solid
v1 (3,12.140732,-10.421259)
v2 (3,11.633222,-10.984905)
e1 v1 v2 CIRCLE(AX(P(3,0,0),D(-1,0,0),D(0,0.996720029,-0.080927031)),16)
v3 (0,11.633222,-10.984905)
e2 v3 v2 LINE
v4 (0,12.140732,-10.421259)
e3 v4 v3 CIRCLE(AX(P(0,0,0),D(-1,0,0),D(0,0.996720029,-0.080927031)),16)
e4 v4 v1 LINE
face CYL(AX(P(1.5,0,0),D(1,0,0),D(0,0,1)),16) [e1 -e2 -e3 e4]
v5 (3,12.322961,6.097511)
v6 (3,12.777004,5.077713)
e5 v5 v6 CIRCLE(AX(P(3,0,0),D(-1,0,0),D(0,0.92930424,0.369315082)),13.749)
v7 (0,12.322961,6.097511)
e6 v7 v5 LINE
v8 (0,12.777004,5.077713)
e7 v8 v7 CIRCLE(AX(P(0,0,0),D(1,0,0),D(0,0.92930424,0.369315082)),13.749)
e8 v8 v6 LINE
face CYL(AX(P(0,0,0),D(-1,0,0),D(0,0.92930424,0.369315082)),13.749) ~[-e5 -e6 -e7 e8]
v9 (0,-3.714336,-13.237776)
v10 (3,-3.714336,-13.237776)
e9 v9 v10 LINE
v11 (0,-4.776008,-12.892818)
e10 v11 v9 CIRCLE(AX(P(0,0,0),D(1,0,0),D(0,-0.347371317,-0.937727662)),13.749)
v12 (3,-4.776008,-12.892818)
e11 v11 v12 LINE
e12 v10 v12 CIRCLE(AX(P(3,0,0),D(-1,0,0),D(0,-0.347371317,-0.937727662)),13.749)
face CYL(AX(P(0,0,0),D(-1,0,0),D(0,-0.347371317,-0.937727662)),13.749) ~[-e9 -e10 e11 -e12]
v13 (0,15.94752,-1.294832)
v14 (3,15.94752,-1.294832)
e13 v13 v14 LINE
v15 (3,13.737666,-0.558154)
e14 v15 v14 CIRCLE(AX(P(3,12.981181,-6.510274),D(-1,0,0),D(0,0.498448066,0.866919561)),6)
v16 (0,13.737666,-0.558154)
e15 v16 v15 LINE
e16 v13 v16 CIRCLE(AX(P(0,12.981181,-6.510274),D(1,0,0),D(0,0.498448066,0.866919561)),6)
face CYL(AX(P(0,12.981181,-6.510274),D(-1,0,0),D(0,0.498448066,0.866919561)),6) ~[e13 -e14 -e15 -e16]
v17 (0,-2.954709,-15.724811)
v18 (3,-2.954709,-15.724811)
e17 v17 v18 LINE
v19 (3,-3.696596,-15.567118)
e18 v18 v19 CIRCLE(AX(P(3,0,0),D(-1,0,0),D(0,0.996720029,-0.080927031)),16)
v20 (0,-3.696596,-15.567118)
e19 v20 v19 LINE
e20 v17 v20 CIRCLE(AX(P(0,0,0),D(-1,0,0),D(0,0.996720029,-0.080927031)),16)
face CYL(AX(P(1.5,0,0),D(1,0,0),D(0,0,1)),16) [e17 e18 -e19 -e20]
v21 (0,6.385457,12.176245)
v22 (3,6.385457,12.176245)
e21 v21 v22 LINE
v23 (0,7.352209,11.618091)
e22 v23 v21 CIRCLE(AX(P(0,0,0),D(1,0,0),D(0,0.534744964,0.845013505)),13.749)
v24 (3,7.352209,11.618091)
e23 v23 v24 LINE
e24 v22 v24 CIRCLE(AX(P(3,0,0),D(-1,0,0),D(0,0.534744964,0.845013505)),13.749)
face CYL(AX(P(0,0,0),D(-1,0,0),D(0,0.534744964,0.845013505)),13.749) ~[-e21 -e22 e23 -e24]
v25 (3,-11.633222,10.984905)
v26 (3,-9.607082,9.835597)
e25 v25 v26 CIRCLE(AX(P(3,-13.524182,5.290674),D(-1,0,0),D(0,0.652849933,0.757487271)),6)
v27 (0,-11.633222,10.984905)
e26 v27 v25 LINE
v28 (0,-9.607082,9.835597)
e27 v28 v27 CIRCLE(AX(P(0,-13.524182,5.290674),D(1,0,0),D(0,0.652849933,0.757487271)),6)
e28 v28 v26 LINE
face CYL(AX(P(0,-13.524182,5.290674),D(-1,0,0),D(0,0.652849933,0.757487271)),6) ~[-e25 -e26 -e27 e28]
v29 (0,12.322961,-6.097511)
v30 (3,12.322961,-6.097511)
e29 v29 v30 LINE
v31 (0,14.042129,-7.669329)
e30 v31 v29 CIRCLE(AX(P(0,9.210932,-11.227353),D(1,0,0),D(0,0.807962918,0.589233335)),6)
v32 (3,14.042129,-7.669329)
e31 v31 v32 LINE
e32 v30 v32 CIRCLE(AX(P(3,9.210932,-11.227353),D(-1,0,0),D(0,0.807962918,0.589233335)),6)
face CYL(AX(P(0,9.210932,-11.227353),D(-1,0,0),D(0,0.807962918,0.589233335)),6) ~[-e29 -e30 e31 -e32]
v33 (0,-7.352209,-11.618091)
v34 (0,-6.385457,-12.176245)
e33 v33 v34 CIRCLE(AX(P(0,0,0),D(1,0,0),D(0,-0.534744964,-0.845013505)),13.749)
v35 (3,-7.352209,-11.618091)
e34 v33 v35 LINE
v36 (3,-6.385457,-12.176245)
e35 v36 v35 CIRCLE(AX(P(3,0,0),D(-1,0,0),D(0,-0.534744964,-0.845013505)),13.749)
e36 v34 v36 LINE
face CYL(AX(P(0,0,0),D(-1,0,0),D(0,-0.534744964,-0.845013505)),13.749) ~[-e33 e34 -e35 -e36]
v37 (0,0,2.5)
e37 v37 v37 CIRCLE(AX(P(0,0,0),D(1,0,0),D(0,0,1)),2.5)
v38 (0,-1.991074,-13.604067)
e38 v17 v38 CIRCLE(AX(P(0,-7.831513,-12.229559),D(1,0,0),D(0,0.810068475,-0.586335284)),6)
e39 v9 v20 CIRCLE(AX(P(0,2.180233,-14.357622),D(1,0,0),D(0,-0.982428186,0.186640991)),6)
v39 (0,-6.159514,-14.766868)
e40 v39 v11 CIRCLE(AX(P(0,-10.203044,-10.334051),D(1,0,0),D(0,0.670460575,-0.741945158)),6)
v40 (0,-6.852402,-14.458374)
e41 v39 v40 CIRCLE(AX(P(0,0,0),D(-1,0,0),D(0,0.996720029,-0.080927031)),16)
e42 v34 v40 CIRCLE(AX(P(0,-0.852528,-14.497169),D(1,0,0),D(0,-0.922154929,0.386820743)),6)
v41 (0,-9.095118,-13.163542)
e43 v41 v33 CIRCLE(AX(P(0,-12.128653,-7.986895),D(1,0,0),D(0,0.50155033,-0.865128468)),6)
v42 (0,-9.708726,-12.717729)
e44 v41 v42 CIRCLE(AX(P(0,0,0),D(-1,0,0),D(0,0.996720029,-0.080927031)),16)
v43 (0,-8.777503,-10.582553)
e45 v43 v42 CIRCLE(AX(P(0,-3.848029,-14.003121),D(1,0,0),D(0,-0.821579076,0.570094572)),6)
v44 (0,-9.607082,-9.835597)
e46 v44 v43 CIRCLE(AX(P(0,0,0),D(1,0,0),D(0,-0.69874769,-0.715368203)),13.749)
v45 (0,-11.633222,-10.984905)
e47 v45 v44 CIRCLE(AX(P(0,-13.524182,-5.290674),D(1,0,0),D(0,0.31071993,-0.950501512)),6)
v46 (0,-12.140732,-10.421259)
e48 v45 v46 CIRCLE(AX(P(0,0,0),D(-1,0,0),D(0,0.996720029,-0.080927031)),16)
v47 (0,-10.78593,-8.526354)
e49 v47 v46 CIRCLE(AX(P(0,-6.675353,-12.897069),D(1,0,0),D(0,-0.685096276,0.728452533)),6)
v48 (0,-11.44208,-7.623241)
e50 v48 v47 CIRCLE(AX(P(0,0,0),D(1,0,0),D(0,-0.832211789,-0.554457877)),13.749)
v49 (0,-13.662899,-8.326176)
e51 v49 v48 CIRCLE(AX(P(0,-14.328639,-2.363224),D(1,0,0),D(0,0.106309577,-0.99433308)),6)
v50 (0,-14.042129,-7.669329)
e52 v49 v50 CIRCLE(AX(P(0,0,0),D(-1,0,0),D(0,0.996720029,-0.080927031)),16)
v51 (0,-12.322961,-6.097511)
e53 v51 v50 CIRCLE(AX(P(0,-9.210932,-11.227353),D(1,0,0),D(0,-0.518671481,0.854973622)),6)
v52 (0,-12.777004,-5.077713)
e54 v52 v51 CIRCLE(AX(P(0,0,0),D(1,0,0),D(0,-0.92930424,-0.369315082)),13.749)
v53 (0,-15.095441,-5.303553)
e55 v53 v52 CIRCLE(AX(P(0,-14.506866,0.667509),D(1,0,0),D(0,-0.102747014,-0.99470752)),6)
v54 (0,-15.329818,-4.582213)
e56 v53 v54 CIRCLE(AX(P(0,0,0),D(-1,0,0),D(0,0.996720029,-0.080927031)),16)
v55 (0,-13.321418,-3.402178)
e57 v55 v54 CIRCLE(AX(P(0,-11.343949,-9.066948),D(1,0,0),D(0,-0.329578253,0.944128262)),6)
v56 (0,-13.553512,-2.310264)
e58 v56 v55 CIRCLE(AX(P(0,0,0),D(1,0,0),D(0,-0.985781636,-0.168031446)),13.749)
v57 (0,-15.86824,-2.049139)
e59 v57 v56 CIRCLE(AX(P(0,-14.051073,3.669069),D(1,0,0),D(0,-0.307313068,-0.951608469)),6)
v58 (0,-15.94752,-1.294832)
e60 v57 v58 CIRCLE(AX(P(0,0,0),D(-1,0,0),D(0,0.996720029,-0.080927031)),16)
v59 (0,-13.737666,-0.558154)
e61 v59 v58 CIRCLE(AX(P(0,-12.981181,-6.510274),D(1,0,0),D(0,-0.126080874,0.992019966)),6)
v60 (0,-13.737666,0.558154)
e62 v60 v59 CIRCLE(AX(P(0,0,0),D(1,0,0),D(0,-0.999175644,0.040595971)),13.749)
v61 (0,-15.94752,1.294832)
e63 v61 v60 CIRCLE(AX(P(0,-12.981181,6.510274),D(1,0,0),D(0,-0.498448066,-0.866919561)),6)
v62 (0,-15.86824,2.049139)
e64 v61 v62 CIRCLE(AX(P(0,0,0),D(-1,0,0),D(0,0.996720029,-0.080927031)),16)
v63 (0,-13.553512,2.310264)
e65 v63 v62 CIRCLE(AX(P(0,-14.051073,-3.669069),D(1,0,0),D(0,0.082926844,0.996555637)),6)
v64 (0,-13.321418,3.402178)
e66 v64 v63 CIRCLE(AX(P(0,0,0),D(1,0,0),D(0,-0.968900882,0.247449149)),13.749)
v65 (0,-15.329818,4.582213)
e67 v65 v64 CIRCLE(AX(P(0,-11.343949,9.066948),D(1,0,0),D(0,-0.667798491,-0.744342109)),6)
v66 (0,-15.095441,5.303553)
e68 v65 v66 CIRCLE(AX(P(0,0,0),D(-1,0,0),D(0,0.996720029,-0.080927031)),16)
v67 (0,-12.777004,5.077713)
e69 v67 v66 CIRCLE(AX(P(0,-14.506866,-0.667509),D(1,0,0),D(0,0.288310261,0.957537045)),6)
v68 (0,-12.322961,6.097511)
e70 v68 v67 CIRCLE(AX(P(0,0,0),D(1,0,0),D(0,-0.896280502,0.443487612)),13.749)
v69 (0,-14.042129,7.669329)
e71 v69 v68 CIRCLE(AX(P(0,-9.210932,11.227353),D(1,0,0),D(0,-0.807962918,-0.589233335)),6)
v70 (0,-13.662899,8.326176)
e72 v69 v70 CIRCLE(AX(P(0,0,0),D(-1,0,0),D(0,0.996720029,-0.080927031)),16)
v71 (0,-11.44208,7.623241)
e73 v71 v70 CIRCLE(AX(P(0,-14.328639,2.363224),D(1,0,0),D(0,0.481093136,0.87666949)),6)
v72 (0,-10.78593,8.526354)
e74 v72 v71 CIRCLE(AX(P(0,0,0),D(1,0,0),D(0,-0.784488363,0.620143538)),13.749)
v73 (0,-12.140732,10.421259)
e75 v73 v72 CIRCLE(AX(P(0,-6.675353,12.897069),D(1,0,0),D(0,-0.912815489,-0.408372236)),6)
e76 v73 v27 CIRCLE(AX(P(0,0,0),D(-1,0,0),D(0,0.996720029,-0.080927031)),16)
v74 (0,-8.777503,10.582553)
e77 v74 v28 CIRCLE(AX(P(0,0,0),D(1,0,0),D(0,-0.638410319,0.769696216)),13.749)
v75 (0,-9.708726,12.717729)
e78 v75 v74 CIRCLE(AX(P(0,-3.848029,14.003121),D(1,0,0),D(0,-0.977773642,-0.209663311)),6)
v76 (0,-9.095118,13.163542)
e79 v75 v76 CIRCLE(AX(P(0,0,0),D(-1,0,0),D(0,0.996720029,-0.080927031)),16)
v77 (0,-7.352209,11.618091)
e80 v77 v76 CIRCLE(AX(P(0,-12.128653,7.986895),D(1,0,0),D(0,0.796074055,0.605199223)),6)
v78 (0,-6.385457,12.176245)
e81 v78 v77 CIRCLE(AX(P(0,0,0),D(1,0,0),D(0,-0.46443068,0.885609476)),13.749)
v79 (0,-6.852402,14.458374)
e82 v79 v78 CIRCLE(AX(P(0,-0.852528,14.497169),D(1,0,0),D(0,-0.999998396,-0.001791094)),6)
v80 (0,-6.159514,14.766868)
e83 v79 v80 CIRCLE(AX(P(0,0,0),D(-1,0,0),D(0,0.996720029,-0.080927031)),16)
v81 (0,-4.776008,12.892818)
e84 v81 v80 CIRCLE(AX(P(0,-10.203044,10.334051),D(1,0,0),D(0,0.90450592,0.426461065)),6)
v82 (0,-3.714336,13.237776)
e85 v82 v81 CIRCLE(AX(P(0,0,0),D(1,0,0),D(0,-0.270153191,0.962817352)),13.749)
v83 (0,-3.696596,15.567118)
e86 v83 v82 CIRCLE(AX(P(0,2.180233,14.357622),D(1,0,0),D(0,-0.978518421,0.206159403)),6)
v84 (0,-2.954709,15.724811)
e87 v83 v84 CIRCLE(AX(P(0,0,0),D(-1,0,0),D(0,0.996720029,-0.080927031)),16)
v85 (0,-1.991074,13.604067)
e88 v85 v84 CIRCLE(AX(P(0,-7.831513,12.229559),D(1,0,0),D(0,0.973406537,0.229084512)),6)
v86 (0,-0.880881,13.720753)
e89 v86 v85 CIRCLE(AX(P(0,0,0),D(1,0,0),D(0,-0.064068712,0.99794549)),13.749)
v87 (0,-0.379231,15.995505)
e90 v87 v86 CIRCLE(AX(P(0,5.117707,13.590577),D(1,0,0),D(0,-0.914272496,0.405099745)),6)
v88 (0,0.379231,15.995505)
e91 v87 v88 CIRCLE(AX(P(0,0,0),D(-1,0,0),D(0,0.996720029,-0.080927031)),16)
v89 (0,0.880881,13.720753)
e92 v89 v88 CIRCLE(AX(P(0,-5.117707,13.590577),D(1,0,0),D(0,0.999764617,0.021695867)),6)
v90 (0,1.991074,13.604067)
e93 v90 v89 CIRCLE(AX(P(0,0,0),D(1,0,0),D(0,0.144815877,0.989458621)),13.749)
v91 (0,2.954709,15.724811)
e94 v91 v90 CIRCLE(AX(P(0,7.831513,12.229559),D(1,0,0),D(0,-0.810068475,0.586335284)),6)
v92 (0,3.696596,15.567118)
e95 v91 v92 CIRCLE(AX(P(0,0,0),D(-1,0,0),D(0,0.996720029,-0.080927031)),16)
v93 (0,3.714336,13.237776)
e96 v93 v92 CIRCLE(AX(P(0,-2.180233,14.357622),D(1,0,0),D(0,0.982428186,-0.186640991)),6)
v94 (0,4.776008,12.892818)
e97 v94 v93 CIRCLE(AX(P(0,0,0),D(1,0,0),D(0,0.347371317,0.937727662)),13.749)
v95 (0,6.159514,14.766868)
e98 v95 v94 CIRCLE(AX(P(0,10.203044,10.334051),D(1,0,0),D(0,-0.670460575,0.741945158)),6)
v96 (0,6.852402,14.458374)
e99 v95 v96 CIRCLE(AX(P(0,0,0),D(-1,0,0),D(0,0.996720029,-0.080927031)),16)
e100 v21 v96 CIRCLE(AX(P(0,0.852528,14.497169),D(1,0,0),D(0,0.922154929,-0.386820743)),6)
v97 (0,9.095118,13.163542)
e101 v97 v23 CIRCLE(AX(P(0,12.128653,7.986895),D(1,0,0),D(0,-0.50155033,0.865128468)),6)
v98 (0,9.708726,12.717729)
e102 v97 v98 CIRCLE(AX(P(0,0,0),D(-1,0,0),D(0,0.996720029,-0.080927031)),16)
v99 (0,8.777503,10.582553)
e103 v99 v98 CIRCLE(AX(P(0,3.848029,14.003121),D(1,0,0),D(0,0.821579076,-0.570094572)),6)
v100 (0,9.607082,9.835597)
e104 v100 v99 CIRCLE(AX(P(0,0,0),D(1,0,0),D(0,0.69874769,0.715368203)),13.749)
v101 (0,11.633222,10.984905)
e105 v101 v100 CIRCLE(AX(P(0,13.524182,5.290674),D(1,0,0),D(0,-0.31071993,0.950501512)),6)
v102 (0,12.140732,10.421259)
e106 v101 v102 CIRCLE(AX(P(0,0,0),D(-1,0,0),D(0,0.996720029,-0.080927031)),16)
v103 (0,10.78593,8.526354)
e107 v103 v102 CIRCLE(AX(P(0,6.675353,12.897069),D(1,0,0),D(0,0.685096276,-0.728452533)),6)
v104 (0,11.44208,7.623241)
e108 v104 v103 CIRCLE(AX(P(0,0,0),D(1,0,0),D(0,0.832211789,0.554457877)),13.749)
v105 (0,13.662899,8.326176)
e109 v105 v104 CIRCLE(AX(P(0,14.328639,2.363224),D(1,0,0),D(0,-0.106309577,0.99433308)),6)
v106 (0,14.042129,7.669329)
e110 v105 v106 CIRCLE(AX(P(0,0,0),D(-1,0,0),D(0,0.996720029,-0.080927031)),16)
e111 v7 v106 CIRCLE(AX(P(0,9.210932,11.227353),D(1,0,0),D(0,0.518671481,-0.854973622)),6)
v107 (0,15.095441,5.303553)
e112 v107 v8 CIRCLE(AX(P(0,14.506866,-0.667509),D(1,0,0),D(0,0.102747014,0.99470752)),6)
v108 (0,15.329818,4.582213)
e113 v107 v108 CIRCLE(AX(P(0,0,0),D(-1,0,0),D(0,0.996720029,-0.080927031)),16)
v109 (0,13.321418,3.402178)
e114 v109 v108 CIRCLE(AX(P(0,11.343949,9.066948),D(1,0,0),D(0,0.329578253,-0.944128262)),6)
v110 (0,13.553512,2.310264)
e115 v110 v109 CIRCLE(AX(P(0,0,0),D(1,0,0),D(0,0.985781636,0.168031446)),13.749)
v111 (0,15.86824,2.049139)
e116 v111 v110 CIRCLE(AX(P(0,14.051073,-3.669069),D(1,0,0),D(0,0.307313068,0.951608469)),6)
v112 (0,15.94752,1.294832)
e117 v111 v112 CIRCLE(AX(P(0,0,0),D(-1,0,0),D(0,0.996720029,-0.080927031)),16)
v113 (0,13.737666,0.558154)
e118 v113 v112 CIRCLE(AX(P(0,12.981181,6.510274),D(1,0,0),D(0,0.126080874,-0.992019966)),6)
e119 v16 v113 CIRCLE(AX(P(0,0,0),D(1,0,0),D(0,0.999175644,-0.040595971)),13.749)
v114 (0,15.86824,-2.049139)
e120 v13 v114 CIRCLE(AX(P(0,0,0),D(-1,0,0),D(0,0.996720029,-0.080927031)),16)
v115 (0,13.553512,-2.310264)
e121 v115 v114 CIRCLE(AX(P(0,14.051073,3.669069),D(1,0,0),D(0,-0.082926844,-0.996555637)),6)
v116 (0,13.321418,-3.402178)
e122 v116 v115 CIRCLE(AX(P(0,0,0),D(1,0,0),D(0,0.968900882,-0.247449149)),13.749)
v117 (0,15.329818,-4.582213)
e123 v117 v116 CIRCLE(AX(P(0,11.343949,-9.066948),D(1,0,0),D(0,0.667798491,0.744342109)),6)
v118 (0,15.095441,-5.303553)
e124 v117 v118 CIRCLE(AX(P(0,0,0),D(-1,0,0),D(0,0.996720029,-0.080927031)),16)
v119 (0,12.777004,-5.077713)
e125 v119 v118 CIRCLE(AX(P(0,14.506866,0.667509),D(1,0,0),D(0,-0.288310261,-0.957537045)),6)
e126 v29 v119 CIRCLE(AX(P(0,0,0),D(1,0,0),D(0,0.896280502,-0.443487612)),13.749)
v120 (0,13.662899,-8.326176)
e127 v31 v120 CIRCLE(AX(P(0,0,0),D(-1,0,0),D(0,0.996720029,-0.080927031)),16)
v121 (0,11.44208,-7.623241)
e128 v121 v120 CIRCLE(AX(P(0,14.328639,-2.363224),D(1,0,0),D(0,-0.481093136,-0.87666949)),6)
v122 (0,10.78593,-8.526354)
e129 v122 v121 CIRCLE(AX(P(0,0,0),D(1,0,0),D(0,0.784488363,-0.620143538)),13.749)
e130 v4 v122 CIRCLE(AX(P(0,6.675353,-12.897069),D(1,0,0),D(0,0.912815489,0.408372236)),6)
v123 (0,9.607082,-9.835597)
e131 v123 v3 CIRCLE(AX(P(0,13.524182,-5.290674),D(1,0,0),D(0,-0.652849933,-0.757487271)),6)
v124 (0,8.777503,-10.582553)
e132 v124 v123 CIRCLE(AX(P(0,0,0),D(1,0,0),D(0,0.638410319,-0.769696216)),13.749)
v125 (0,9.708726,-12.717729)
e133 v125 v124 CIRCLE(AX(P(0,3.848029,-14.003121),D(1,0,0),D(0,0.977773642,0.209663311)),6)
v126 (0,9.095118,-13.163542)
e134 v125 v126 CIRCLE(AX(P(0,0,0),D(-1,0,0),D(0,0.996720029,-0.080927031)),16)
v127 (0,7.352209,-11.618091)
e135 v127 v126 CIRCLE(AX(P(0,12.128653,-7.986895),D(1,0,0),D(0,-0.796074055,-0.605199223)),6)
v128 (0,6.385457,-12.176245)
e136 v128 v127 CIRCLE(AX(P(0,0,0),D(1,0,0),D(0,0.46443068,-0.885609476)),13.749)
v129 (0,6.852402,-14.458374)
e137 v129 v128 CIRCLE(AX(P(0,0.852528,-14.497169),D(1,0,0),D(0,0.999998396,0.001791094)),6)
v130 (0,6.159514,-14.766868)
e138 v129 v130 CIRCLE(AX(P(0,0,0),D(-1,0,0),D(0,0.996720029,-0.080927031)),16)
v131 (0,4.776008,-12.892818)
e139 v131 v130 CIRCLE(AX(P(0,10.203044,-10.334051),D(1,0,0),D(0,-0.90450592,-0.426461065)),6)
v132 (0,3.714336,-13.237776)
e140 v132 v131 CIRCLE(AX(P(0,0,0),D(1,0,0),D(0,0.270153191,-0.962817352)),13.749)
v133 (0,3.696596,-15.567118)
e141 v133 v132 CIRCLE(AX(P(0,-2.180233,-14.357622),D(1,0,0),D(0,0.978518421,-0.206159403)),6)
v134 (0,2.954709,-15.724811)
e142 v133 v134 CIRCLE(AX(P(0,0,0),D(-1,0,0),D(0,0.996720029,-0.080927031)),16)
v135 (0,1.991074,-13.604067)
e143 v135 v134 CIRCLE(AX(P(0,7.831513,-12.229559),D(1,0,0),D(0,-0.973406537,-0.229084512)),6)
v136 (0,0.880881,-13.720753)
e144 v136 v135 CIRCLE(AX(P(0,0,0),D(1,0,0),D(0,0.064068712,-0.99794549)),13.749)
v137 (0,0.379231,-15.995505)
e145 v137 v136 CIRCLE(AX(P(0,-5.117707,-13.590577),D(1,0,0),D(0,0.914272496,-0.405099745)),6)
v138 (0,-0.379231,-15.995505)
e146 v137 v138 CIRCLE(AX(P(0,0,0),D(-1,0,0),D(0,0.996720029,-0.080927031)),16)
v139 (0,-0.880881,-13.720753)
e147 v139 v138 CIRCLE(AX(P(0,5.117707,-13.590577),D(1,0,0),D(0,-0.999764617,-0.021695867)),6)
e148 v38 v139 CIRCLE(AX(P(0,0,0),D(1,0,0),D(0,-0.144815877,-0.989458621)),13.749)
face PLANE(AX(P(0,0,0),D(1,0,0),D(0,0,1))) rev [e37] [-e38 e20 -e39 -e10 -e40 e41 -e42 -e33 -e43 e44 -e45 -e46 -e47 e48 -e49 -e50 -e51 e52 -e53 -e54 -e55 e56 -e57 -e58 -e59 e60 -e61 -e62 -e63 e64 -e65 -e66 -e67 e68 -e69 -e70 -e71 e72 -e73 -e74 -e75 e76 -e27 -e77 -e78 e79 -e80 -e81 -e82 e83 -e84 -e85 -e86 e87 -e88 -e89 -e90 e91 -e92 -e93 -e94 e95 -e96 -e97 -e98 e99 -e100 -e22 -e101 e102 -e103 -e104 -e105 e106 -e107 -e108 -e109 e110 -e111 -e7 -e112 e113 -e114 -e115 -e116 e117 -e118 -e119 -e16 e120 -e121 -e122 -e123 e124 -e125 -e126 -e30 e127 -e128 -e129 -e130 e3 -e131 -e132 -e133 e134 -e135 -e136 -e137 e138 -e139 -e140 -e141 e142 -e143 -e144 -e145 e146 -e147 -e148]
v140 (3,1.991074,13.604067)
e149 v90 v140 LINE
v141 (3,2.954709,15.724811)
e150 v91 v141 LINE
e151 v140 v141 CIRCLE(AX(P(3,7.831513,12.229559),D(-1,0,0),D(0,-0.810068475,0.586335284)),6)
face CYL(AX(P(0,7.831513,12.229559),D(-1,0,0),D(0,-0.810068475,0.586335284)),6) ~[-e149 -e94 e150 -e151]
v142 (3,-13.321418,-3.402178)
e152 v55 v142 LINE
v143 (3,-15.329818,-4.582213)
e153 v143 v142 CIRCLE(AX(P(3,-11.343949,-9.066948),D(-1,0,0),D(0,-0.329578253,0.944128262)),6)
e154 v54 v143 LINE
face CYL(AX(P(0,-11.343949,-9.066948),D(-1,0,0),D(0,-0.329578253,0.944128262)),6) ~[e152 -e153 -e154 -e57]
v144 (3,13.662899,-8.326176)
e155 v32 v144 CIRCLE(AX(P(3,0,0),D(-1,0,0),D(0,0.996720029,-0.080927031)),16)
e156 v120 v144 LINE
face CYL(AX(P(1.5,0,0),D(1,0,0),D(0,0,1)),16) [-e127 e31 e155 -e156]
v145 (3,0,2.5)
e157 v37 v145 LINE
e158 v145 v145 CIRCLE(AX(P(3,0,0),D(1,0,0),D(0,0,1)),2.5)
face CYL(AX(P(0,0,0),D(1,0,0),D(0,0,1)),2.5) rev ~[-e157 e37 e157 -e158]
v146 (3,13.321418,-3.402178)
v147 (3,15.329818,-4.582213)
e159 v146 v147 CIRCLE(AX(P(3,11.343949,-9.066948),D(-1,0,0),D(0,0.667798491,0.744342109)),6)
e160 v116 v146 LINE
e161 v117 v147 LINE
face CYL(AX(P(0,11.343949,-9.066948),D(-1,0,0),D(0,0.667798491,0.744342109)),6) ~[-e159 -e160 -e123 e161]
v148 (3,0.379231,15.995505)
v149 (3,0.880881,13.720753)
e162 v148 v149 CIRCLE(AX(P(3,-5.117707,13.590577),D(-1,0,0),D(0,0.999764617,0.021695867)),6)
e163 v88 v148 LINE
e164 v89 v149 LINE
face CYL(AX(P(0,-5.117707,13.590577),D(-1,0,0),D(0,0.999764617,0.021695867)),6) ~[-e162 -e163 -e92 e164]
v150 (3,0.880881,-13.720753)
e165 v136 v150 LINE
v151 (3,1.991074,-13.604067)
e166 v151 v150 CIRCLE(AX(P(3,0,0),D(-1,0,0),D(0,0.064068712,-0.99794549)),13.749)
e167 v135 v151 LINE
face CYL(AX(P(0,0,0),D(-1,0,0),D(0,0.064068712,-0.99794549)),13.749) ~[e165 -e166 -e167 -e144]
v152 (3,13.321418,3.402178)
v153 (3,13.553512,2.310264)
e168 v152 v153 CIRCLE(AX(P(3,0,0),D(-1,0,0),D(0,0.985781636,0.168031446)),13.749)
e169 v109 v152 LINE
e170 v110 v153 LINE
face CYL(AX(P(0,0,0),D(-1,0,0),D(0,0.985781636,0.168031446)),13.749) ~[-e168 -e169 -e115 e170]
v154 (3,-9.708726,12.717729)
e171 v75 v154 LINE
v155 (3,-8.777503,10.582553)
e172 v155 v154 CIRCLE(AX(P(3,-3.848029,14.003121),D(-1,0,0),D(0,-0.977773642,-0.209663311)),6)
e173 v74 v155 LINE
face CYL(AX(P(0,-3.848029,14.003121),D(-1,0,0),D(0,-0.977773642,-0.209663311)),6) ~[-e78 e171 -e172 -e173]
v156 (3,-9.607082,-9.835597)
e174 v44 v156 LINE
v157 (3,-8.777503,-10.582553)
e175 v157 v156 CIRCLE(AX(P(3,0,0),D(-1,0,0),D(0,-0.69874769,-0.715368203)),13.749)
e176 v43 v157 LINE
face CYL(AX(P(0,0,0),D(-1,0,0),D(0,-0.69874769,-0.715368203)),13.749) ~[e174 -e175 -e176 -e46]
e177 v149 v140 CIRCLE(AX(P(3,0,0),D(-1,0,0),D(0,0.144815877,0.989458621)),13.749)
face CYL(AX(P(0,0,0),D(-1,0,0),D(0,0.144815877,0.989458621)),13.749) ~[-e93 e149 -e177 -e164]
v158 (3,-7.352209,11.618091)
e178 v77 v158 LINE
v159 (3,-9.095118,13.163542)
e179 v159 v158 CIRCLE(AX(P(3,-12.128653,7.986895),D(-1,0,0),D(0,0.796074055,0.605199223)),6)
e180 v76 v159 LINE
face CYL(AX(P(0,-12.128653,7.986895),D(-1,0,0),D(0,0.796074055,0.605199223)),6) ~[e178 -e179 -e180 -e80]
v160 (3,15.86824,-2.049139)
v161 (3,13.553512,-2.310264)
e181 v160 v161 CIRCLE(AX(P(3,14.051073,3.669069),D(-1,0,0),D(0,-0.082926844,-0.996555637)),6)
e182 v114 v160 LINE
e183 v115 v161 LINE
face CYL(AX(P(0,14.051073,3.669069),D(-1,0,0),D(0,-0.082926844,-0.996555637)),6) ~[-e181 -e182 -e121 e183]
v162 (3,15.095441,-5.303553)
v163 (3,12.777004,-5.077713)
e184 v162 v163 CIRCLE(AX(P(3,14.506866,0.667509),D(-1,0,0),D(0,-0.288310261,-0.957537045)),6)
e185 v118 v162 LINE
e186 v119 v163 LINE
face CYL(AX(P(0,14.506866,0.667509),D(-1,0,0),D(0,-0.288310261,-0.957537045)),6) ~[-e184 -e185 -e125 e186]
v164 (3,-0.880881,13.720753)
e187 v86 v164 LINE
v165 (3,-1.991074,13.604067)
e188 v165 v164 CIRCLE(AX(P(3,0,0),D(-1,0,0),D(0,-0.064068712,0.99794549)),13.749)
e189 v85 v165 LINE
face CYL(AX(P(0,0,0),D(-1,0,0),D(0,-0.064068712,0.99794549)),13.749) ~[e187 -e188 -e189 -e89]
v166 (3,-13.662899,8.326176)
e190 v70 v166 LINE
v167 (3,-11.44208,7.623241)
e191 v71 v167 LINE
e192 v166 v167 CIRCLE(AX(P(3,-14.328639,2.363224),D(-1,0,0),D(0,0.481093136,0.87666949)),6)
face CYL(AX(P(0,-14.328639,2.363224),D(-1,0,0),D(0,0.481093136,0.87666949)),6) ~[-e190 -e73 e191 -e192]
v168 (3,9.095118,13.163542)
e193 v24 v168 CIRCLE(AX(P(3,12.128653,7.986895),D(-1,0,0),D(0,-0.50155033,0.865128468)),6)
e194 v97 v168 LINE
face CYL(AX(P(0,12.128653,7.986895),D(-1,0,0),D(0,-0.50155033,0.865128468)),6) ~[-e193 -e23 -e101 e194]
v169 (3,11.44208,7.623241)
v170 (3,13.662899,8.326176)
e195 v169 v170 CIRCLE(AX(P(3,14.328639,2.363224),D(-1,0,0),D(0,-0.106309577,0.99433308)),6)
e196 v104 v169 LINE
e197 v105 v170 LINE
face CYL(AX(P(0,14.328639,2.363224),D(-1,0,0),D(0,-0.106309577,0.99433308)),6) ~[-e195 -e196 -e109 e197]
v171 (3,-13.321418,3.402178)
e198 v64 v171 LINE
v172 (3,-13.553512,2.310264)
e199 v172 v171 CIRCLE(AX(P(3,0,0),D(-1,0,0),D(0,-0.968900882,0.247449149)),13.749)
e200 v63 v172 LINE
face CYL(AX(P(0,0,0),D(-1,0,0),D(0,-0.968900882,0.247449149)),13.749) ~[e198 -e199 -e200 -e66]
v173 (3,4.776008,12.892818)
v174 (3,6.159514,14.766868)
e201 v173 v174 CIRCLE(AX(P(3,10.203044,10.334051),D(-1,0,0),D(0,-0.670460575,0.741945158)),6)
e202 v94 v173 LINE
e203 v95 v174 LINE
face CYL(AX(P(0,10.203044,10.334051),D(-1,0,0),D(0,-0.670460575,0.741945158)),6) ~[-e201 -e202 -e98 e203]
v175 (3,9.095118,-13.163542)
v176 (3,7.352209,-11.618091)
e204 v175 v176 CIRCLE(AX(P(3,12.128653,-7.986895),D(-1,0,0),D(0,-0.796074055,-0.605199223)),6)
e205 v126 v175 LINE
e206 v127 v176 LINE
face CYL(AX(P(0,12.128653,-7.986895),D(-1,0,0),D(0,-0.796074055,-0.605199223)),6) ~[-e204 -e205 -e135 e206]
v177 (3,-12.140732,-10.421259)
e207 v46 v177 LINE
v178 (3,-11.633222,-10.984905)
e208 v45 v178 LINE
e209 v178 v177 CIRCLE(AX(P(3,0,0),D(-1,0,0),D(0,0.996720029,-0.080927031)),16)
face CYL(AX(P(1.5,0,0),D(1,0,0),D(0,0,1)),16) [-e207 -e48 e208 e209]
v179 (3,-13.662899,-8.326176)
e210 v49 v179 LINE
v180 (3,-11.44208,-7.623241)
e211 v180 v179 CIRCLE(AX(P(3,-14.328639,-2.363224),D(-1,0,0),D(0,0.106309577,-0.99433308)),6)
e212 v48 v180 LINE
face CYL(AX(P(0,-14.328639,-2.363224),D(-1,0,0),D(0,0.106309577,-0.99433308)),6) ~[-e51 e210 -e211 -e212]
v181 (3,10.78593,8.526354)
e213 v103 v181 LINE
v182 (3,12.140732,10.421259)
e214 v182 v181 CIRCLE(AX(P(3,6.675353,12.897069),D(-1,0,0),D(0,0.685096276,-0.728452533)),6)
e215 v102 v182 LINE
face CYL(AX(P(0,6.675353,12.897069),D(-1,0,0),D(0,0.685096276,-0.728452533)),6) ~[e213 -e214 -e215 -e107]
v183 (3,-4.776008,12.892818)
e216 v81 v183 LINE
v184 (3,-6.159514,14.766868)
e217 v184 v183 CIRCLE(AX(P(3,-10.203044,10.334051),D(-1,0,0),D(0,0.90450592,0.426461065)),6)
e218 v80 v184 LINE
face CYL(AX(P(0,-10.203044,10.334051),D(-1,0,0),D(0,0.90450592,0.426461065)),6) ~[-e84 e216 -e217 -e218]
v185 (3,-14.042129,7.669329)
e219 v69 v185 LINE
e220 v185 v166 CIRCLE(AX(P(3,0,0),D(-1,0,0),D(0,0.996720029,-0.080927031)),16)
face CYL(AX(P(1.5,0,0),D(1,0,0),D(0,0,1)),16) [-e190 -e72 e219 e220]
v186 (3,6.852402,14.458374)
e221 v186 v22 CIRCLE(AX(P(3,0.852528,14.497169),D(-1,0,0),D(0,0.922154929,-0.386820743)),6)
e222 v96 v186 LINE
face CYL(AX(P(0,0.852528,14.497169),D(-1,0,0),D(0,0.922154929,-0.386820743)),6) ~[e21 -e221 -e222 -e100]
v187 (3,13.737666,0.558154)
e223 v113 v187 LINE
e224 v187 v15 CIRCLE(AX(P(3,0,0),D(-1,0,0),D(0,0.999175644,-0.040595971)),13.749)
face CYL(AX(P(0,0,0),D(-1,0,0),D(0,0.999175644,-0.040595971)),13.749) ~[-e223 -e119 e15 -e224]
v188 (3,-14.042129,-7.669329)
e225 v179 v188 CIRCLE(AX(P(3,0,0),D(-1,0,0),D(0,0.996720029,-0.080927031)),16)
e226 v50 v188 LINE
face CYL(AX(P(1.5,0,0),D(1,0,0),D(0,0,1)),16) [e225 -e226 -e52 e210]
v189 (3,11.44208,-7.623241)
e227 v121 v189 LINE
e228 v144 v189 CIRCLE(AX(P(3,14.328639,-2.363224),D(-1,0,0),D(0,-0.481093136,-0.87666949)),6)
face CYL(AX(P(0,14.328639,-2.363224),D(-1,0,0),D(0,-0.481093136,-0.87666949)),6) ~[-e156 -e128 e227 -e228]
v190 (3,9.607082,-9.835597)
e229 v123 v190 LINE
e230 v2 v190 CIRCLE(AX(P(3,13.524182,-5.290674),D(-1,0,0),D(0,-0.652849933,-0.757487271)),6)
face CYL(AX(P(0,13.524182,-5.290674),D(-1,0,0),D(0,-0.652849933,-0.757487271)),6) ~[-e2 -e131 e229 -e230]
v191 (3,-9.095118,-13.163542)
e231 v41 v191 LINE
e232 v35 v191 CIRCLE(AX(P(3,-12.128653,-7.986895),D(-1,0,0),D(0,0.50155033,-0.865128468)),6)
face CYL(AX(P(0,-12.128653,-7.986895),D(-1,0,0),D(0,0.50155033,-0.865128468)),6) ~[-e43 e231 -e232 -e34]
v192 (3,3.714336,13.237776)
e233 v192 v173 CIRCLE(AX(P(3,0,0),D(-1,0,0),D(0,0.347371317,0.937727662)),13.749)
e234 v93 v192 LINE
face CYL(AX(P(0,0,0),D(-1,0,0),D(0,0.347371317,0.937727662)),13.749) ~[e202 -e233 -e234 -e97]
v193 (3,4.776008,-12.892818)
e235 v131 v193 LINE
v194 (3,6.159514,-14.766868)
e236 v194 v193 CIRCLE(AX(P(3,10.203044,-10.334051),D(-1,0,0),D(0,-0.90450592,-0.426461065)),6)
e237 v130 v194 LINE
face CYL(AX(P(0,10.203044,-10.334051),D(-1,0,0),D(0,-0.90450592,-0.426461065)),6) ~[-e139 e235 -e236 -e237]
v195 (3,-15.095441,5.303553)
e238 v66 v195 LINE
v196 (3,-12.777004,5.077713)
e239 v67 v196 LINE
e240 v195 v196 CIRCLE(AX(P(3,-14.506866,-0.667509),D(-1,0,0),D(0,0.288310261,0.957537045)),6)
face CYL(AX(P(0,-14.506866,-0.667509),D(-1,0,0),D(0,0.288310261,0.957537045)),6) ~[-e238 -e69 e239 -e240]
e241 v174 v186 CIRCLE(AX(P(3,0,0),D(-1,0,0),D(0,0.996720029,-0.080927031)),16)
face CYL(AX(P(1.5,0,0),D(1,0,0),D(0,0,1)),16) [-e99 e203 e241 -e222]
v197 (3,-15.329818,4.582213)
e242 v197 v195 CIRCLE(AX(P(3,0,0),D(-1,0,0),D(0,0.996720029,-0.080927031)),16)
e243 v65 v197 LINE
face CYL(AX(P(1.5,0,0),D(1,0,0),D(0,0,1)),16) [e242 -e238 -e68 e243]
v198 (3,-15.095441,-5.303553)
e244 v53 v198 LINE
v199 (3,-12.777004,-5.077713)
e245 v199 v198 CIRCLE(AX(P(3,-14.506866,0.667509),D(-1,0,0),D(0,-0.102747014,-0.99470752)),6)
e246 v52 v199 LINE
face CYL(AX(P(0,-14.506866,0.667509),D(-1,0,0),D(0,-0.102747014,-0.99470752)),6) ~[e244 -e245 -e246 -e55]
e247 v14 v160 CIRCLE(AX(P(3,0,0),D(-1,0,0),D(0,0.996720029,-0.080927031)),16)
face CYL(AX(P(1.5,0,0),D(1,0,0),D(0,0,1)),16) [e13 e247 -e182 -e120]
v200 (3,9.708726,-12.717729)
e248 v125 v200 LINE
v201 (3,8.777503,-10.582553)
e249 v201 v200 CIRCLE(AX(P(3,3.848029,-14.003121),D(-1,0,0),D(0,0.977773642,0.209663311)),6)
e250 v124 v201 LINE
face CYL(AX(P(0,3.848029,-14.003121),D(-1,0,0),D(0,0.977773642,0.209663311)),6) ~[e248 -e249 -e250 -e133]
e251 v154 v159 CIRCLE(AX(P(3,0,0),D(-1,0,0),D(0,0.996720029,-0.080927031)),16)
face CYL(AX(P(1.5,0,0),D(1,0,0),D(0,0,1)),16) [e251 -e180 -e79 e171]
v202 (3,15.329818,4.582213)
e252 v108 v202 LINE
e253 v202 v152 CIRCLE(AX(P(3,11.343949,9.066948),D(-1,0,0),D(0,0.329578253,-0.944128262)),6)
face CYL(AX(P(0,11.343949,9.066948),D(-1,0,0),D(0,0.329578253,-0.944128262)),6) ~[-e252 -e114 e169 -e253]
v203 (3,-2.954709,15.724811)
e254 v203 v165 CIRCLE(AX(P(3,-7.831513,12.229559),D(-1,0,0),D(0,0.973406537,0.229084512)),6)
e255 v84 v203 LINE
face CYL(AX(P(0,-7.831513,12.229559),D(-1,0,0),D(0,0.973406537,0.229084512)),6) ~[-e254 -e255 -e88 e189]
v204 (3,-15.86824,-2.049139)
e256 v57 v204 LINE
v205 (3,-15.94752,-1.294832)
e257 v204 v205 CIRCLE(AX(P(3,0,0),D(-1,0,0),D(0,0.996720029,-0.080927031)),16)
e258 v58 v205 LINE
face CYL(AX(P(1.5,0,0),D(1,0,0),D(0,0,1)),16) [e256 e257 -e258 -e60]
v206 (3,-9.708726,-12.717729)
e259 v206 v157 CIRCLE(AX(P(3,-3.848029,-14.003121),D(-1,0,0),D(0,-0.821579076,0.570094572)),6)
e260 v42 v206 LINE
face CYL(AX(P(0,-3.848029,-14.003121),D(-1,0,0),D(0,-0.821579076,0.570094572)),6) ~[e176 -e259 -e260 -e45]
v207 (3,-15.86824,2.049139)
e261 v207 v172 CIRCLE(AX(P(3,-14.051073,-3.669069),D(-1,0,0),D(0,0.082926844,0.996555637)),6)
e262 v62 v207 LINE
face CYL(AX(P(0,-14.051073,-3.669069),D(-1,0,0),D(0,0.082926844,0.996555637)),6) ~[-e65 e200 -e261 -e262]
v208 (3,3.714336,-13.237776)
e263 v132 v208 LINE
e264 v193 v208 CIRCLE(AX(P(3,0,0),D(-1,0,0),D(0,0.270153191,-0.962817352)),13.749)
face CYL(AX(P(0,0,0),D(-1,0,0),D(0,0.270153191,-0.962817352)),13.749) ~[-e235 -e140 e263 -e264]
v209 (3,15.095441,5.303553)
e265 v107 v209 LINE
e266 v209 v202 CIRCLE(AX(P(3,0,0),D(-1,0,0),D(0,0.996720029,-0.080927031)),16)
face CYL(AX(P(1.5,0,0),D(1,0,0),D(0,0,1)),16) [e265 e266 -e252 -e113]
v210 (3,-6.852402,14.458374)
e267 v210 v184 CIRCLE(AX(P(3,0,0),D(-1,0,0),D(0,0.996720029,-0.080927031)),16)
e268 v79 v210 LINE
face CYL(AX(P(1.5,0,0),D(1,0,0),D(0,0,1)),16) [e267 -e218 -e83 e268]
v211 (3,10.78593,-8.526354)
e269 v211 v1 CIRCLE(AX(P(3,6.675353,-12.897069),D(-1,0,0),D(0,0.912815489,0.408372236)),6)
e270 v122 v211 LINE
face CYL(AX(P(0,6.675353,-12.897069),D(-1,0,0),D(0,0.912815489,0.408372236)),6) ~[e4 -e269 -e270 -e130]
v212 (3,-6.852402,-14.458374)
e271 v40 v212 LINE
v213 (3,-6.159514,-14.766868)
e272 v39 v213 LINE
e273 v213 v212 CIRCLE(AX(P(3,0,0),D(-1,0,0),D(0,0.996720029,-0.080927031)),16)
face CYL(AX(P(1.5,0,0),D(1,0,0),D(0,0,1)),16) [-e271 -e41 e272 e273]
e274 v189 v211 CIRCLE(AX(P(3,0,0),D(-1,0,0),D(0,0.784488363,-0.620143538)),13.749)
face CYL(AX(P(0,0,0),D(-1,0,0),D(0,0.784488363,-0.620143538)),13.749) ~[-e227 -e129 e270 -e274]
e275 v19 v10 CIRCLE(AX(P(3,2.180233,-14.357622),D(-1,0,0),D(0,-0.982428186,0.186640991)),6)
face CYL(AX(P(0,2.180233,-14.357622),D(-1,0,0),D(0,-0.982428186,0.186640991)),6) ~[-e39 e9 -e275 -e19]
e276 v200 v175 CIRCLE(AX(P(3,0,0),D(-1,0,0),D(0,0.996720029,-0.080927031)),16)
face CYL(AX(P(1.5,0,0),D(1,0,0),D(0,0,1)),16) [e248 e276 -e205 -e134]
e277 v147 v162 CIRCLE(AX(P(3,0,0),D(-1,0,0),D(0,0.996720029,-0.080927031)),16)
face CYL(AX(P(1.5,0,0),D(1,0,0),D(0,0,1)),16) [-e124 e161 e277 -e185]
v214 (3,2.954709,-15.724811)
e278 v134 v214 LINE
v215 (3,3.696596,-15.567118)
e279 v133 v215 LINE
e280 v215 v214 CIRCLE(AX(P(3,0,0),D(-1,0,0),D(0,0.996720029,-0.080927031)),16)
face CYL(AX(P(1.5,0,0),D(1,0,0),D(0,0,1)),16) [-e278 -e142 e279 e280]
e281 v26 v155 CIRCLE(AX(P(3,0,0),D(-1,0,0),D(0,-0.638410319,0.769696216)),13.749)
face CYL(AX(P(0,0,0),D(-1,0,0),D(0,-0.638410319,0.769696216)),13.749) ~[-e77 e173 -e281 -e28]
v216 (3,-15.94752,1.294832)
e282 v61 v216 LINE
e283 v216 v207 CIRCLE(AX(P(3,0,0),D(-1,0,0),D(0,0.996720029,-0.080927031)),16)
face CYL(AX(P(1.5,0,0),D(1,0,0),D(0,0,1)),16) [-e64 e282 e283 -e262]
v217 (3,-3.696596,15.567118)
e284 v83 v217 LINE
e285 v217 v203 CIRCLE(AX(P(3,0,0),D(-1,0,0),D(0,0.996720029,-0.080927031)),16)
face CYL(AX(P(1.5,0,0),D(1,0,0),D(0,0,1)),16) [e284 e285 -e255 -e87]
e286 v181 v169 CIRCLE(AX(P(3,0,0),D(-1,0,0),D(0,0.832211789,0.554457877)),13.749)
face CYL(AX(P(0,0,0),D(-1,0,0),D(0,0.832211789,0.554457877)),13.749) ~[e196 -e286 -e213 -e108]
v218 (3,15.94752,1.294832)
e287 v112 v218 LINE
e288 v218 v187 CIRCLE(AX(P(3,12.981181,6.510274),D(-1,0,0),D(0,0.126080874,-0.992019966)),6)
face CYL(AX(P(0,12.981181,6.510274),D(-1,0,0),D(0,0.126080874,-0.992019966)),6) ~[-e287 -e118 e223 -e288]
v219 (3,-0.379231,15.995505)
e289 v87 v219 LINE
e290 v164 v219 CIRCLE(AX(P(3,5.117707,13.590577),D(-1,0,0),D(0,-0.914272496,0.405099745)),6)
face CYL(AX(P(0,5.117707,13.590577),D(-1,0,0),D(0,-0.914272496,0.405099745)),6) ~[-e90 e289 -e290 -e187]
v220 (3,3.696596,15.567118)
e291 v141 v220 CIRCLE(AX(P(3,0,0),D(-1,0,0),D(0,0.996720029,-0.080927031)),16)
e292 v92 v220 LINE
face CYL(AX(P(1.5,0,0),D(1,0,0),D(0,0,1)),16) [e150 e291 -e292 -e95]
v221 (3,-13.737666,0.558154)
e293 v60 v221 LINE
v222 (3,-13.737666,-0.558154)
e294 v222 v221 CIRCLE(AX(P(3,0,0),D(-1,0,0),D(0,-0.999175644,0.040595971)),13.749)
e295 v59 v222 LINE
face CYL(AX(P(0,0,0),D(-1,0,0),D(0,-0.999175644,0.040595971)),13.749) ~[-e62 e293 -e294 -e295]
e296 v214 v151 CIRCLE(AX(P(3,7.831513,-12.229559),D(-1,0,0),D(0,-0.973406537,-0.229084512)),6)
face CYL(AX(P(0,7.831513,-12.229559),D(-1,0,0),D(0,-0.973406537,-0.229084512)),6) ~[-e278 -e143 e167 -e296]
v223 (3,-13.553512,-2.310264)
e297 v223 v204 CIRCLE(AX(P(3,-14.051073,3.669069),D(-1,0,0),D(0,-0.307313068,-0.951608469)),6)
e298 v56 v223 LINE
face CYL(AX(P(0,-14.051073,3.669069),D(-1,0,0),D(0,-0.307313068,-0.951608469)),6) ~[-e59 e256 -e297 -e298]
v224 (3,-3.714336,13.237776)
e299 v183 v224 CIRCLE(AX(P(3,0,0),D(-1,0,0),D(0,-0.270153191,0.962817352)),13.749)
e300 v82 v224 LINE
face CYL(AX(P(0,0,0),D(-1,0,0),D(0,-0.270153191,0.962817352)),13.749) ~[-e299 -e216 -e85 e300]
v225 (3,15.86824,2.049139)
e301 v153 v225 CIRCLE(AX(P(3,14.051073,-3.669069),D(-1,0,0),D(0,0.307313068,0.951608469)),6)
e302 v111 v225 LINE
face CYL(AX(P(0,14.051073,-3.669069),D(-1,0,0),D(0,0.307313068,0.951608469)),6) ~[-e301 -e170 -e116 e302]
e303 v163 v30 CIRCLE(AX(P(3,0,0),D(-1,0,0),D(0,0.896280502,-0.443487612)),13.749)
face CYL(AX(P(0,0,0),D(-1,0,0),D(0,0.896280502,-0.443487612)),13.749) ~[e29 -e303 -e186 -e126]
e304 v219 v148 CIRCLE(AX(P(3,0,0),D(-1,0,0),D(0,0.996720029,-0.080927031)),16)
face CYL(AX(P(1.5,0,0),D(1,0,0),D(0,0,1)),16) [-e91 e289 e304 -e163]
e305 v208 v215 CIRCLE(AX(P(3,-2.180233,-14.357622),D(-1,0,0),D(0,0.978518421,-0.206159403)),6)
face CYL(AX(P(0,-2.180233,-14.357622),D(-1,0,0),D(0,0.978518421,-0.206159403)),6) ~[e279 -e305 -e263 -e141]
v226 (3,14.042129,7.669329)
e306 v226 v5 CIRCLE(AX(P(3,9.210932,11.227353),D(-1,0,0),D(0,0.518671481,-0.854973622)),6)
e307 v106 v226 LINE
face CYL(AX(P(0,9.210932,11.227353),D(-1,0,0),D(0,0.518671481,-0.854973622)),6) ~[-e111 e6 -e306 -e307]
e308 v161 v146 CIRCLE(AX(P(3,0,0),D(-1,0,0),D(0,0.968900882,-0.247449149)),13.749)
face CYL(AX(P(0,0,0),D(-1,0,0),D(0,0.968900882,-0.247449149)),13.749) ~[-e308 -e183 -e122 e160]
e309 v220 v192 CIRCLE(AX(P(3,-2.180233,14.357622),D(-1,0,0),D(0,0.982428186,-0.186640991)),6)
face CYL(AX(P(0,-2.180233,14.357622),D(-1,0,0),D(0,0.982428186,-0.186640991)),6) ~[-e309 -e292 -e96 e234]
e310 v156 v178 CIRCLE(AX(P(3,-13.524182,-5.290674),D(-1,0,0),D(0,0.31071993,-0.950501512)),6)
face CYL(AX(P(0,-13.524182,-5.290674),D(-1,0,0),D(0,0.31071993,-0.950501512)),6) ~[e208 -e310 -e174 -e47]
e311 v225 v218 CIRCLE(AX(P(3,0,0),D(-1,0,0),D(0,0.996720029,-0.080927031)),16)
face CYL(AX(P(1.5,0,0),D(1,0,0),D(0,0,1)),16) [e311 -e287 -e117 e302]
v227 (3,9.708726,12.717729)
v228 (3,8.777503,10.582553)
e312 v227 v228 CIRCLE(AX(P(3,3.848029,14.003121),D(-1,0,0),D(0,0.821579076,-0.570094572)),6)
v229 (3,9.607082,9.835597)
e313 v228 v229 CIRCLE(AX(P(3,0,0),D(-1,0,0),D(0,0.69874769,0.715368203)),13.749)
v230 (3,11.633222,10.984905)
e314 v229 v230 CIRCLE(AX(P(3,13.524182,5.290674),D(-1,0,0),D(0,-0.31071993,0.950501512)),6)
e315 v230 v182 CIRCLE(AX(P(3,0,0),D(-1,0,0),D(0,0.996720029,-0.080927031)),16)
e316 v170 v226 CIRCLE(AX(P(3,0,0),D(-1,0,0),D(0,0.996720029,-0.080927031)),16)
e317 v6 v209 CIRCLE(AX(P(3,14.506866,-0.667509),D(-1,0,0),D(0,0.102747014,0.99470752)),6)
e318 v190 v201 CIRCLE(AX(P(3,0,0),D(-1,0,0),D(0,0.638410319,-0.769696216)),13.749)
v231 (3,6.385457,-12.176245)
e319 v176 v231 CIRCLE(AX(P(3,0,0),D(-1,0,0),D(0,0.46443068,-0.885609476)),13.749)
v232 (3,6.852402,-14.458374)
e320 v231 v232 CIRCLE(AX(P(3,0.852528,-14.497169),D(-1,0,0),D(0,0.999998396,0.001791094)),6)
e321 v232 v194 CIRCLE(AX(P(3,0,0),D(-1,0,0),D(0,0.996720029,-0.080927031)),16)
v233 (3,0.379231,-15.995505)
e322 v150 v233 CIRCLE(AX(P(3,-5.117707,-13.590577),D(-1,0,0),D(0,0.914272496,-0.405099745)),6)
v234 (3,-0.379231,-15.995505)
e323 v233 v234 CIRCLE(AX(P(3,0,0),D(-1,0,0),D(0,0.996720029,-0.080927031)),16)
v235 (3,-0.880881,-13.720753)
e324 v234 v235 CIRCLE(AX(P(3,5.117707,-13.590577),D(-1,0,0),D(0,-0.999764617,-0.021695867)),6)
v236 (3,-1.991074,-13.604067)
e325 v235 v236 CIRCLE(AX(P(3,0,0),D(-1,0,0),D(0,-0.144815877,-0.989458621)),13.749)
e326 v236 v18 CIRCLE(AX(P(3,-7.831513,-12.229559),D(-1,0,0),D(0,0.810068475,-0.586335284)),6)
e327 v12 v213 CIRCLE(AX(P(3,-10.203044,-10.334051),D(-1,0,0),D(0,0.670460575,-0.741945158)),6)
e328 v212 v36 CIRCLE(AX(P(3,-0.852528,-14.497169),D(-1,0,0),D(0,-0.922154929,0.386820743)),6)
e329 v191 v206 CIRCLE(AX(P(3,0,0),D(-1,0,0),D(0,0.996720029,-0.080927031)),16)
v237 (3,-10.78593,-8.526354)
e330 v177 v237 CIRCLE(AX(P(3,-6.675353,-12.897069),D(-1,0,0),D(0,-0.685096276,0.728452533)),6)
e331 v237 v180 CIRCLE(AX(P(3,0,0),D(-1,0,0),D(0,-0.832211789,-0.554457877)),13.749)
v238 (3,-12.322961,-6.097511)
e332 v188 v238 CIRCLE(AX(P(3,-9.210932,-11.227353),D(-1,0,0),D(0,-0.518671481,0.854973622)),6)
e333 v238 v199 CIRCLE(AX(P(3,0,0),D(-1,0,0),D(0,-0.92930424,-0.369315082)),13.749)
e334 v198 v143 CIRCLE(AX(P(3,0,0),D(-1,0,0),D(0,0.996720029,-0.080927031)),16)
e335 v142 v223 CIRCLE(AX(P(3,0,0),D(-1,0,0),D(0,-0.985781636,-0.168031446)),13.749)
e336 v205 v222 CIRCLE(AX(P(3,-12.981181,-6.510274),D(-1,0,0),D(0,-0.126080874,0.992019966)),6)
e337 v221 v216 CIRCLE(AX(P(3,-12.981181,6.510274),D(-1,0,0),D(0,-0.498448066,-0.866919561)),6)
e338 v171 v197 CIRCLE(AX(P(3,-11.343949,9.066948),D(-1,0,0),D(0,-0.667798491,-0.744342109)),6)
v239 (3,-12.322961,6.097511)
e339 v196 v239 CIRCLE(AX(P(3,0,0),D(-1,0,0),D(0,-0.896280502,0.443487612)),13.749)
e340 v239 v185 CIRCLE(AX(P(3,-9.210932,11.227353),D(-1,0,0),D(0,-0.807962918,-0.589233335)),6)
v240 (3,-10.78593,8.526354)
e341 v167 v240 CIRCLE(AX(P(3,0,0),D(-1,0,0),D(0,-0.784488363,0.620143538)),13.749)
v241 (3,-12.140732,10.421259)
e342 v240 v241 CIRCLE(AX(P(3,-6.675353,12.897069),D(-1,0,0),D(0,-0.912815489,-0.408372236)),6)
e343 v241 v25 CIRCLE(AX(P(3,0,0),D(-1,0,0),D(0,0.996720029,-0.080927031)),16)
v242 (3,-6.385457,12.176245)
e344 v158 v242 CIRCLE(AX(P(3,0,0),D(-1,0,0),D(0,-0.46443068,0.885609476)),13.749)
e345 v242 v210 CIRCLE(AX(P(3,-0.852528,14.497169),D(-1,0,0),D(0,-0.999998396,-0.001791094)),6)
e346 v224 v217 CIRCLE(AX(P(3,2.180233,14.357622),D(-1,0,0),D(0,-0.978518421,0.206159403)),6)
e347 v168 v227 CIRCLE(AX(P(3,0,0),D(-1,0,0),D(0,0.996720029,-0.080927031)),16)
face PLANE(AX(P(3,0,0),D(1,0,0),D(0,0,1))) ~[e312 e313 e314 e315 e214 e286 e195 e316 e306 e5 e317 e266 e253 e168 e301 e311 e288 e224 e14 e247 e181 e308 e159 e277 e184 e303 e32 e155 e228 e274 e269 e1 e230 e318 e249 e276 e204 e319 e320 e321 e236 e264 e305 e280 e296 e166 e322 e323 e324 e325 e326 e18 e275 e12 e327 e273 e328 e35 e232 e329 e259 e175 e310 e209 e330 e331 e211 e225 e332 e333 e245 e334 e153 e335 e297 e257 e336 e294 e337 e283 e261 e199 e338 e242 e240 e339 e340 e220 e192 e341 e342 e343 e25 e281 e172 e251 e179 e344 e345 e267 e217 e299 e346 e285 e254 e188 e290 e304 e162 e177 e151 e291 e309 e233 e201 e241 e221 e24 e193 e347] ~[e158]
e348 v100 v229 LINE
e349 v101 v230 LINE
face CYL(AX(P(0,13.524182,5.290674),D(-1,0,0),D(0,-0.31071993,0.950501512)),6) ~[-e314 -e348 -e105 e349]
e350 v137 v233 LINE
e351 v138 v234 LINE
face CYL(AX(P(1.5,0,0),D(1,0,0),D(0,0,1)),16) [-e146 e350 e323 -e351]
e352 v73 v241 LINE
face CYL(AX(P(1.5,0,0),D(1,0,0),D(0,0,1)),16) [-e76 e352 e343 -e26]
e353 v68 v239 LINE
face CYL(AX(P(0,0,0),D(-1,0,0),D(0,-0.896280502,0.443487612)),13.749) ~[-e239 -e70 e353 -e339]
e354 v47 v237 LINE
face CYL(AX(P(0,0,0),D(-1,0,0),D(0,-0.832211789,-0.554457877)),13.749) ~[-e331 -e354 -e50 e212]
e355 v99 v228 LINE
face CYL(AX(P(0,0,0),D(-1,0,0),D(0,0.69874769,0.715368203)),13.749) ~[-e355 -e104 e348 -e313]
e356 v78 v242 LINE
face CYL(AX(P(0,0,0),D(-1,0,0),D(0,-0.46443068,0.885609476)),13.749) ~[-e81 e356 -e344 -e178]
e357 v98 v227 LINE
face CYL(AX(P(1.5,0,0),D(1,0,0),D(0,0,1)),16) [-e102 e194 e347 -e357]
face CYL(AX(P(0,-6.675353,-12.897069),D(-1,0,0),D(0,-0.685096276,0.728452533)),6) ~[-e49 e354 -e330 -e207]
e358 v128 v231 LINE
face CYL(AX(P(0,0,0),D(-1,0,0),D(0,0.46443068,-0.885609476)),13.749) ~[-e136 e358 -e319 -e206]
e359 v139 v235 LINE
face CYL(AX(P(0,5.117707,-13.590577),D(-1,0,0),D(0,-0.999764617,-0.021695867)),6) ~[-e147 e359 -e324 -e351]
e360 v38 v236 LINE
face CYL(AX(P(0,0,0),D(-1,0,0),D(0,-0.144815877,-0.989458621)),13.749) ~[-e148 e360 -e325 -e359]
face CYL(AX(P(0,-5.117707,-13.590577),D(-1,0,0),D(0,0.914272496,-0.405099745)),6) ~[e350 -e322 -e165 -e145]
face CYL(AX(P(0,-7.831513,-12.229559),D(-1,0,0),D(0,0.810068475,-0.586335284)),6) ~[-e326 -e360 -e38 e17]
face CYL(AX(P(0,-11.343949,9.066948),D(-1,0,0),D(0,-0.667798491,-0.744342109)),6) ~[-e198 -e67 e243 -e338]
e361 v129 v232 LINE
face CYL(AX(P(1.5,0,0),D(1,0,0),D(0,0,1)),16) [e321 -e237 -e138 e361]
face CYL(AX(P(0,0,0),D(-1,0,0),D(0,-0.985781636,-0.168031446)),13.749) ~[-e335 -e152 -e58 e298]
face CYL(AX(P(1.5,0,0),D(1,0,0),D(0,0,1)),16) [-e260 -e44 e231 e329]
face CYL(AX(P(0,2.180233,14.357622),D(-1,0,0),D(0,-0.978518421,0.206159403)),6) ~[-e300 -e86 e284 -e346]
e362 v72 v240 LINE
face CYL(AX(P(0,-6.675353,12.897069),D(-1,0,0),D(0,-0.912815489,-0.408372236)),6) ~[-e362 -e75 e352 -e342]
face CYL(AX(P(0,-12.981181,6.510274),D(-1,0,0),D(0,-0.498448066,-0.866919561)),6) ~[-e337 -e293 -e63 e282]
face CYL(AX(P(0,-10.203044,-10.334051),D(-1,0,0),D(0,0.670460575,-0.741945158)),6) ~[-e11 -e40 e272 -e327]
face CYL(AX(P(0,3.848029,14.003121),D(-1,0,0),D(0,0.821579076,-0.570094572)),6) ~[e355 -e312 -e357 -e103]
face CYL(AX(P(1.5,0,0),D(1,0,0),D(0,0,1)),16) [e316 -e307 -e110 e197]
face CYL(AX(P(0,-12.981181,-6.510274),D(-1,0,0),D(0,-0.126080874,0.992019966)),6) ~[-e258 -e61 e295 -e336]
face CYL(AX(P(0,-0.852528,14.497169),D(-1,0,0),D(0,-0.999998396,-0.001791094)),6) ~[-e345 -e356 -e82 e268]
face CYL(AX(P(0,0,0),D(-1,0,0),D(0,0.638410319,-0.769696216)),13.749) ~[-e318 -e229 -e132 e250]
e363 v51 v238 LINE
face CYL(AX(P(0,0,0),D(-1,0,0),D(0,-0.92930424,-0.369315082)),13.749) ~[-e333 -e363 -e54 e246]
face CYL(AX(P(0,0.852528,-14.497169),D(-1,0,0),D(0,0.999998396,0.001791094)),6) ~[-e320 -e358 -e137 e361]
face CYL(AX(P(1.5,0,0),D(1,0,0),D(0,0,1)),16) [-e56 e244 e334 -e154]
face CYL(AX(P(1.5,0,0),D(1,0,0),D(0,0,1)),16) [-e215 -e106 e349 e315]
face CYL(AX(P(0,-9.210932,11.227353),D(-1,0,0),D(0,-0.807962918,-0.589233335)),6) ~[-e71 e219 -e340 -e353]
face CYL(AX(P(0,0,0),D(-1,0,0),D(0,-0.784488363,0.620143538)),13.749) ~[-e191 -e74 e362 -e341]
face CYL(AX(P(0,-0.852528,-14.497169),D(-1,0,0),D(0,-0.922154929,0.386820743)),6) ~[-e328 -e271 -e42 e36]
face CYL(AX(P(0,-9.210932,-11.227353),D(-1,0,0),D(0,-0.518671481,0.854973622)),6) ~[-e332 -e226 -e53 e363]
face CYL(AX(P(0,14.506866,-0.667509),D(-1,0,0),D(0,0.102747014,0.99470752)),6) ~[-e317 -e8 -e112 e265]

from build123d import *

# Parameters (mm, degrees)
BASPROSKE_W     = 3
BASPROSKE_H     = 16
TOOTHCUT_DEPTH  = 23.825424421
TEETHCUTS_COUNT = 30
TEETHCUTS_ANGLE = 348
BORSKE_R        = 2.5
BORE_DEPTH      = 50.0000508


with BuildPart() as part:
    # BasProSke → Base-Revolve (revolve)
    with BuildSketch(Plane(origin=(0, 0, 0), x_dir=(1, 0, 0), z_dir=(0, 1, 0)), mode=Mode.PRIVATE) as base_revolve_sk:
        with Locations((1.5, 8)):
            Rectangle(BASPROSKE_W, BASPROSKE_H)
    revolve(base_revolve_sk.sketch.rotate(Axis((-10, 0, 0), (1, 0, 0)), 180), axis=Axis((-10, 0, 0), (1, 0, 0)))

    # TooCutSke → ToothCut (cut, through all)
    with BuildSketch(Plane(origin=(0, 0, 0), x_dir=(0, 0, -1), z_dir=(1, 0, 0))):
        with BuildLine():
            ThreePointArc((0.558154026, 13.737665926), (0, 13.749), (-0.558154026, 13.737665926))
            ThreePointArc((-0.558154026, 13.737665926), (-0.82267139, 14.891986419), (-1.308756454, 15.971869074))
            ThreePointArc((-1.308756454, 15.971869074), (0, 16.0254), (1.308756454, 15.971869074))
            ThreePointArc((1.308756454, 15.971869074), (0.82267139, 14.891986419), (0.558154026, 13.737665926))
        make_face()
    toothcut = extrude(amount=TOOTHCUT_DEPTH, mode=Mode.SUBTRACT)

    # TeethCuts: ToothCut ×30 about axis
    teethcuts_axis = Axis((-10, 0, 0), (1, 0, 0))
    for i in range(1, TEETHCUTS_COUNT):
        add(toothcut.rotate(teethcuts_axis, i * TEETHCUTS_ANGLE / (TEETHCUTS_COUNT - 1)), mode=Mode.SUBTRACT)

    # BorSke → Bore (cut, symmetric)
    with BuildSketch(Plane(origin=(0, 0, 0), x_dir=(0, 0, -1), z_dir=(1, 0, 0))):
        with Locations(Location((0, 0, 0), (0, 0, 180))):
            Circle(BORSKE_R)
    extrude(amount=BORE_DEPTH, both=True, mode=Mode.SUBTRACT)


solid = part.part
